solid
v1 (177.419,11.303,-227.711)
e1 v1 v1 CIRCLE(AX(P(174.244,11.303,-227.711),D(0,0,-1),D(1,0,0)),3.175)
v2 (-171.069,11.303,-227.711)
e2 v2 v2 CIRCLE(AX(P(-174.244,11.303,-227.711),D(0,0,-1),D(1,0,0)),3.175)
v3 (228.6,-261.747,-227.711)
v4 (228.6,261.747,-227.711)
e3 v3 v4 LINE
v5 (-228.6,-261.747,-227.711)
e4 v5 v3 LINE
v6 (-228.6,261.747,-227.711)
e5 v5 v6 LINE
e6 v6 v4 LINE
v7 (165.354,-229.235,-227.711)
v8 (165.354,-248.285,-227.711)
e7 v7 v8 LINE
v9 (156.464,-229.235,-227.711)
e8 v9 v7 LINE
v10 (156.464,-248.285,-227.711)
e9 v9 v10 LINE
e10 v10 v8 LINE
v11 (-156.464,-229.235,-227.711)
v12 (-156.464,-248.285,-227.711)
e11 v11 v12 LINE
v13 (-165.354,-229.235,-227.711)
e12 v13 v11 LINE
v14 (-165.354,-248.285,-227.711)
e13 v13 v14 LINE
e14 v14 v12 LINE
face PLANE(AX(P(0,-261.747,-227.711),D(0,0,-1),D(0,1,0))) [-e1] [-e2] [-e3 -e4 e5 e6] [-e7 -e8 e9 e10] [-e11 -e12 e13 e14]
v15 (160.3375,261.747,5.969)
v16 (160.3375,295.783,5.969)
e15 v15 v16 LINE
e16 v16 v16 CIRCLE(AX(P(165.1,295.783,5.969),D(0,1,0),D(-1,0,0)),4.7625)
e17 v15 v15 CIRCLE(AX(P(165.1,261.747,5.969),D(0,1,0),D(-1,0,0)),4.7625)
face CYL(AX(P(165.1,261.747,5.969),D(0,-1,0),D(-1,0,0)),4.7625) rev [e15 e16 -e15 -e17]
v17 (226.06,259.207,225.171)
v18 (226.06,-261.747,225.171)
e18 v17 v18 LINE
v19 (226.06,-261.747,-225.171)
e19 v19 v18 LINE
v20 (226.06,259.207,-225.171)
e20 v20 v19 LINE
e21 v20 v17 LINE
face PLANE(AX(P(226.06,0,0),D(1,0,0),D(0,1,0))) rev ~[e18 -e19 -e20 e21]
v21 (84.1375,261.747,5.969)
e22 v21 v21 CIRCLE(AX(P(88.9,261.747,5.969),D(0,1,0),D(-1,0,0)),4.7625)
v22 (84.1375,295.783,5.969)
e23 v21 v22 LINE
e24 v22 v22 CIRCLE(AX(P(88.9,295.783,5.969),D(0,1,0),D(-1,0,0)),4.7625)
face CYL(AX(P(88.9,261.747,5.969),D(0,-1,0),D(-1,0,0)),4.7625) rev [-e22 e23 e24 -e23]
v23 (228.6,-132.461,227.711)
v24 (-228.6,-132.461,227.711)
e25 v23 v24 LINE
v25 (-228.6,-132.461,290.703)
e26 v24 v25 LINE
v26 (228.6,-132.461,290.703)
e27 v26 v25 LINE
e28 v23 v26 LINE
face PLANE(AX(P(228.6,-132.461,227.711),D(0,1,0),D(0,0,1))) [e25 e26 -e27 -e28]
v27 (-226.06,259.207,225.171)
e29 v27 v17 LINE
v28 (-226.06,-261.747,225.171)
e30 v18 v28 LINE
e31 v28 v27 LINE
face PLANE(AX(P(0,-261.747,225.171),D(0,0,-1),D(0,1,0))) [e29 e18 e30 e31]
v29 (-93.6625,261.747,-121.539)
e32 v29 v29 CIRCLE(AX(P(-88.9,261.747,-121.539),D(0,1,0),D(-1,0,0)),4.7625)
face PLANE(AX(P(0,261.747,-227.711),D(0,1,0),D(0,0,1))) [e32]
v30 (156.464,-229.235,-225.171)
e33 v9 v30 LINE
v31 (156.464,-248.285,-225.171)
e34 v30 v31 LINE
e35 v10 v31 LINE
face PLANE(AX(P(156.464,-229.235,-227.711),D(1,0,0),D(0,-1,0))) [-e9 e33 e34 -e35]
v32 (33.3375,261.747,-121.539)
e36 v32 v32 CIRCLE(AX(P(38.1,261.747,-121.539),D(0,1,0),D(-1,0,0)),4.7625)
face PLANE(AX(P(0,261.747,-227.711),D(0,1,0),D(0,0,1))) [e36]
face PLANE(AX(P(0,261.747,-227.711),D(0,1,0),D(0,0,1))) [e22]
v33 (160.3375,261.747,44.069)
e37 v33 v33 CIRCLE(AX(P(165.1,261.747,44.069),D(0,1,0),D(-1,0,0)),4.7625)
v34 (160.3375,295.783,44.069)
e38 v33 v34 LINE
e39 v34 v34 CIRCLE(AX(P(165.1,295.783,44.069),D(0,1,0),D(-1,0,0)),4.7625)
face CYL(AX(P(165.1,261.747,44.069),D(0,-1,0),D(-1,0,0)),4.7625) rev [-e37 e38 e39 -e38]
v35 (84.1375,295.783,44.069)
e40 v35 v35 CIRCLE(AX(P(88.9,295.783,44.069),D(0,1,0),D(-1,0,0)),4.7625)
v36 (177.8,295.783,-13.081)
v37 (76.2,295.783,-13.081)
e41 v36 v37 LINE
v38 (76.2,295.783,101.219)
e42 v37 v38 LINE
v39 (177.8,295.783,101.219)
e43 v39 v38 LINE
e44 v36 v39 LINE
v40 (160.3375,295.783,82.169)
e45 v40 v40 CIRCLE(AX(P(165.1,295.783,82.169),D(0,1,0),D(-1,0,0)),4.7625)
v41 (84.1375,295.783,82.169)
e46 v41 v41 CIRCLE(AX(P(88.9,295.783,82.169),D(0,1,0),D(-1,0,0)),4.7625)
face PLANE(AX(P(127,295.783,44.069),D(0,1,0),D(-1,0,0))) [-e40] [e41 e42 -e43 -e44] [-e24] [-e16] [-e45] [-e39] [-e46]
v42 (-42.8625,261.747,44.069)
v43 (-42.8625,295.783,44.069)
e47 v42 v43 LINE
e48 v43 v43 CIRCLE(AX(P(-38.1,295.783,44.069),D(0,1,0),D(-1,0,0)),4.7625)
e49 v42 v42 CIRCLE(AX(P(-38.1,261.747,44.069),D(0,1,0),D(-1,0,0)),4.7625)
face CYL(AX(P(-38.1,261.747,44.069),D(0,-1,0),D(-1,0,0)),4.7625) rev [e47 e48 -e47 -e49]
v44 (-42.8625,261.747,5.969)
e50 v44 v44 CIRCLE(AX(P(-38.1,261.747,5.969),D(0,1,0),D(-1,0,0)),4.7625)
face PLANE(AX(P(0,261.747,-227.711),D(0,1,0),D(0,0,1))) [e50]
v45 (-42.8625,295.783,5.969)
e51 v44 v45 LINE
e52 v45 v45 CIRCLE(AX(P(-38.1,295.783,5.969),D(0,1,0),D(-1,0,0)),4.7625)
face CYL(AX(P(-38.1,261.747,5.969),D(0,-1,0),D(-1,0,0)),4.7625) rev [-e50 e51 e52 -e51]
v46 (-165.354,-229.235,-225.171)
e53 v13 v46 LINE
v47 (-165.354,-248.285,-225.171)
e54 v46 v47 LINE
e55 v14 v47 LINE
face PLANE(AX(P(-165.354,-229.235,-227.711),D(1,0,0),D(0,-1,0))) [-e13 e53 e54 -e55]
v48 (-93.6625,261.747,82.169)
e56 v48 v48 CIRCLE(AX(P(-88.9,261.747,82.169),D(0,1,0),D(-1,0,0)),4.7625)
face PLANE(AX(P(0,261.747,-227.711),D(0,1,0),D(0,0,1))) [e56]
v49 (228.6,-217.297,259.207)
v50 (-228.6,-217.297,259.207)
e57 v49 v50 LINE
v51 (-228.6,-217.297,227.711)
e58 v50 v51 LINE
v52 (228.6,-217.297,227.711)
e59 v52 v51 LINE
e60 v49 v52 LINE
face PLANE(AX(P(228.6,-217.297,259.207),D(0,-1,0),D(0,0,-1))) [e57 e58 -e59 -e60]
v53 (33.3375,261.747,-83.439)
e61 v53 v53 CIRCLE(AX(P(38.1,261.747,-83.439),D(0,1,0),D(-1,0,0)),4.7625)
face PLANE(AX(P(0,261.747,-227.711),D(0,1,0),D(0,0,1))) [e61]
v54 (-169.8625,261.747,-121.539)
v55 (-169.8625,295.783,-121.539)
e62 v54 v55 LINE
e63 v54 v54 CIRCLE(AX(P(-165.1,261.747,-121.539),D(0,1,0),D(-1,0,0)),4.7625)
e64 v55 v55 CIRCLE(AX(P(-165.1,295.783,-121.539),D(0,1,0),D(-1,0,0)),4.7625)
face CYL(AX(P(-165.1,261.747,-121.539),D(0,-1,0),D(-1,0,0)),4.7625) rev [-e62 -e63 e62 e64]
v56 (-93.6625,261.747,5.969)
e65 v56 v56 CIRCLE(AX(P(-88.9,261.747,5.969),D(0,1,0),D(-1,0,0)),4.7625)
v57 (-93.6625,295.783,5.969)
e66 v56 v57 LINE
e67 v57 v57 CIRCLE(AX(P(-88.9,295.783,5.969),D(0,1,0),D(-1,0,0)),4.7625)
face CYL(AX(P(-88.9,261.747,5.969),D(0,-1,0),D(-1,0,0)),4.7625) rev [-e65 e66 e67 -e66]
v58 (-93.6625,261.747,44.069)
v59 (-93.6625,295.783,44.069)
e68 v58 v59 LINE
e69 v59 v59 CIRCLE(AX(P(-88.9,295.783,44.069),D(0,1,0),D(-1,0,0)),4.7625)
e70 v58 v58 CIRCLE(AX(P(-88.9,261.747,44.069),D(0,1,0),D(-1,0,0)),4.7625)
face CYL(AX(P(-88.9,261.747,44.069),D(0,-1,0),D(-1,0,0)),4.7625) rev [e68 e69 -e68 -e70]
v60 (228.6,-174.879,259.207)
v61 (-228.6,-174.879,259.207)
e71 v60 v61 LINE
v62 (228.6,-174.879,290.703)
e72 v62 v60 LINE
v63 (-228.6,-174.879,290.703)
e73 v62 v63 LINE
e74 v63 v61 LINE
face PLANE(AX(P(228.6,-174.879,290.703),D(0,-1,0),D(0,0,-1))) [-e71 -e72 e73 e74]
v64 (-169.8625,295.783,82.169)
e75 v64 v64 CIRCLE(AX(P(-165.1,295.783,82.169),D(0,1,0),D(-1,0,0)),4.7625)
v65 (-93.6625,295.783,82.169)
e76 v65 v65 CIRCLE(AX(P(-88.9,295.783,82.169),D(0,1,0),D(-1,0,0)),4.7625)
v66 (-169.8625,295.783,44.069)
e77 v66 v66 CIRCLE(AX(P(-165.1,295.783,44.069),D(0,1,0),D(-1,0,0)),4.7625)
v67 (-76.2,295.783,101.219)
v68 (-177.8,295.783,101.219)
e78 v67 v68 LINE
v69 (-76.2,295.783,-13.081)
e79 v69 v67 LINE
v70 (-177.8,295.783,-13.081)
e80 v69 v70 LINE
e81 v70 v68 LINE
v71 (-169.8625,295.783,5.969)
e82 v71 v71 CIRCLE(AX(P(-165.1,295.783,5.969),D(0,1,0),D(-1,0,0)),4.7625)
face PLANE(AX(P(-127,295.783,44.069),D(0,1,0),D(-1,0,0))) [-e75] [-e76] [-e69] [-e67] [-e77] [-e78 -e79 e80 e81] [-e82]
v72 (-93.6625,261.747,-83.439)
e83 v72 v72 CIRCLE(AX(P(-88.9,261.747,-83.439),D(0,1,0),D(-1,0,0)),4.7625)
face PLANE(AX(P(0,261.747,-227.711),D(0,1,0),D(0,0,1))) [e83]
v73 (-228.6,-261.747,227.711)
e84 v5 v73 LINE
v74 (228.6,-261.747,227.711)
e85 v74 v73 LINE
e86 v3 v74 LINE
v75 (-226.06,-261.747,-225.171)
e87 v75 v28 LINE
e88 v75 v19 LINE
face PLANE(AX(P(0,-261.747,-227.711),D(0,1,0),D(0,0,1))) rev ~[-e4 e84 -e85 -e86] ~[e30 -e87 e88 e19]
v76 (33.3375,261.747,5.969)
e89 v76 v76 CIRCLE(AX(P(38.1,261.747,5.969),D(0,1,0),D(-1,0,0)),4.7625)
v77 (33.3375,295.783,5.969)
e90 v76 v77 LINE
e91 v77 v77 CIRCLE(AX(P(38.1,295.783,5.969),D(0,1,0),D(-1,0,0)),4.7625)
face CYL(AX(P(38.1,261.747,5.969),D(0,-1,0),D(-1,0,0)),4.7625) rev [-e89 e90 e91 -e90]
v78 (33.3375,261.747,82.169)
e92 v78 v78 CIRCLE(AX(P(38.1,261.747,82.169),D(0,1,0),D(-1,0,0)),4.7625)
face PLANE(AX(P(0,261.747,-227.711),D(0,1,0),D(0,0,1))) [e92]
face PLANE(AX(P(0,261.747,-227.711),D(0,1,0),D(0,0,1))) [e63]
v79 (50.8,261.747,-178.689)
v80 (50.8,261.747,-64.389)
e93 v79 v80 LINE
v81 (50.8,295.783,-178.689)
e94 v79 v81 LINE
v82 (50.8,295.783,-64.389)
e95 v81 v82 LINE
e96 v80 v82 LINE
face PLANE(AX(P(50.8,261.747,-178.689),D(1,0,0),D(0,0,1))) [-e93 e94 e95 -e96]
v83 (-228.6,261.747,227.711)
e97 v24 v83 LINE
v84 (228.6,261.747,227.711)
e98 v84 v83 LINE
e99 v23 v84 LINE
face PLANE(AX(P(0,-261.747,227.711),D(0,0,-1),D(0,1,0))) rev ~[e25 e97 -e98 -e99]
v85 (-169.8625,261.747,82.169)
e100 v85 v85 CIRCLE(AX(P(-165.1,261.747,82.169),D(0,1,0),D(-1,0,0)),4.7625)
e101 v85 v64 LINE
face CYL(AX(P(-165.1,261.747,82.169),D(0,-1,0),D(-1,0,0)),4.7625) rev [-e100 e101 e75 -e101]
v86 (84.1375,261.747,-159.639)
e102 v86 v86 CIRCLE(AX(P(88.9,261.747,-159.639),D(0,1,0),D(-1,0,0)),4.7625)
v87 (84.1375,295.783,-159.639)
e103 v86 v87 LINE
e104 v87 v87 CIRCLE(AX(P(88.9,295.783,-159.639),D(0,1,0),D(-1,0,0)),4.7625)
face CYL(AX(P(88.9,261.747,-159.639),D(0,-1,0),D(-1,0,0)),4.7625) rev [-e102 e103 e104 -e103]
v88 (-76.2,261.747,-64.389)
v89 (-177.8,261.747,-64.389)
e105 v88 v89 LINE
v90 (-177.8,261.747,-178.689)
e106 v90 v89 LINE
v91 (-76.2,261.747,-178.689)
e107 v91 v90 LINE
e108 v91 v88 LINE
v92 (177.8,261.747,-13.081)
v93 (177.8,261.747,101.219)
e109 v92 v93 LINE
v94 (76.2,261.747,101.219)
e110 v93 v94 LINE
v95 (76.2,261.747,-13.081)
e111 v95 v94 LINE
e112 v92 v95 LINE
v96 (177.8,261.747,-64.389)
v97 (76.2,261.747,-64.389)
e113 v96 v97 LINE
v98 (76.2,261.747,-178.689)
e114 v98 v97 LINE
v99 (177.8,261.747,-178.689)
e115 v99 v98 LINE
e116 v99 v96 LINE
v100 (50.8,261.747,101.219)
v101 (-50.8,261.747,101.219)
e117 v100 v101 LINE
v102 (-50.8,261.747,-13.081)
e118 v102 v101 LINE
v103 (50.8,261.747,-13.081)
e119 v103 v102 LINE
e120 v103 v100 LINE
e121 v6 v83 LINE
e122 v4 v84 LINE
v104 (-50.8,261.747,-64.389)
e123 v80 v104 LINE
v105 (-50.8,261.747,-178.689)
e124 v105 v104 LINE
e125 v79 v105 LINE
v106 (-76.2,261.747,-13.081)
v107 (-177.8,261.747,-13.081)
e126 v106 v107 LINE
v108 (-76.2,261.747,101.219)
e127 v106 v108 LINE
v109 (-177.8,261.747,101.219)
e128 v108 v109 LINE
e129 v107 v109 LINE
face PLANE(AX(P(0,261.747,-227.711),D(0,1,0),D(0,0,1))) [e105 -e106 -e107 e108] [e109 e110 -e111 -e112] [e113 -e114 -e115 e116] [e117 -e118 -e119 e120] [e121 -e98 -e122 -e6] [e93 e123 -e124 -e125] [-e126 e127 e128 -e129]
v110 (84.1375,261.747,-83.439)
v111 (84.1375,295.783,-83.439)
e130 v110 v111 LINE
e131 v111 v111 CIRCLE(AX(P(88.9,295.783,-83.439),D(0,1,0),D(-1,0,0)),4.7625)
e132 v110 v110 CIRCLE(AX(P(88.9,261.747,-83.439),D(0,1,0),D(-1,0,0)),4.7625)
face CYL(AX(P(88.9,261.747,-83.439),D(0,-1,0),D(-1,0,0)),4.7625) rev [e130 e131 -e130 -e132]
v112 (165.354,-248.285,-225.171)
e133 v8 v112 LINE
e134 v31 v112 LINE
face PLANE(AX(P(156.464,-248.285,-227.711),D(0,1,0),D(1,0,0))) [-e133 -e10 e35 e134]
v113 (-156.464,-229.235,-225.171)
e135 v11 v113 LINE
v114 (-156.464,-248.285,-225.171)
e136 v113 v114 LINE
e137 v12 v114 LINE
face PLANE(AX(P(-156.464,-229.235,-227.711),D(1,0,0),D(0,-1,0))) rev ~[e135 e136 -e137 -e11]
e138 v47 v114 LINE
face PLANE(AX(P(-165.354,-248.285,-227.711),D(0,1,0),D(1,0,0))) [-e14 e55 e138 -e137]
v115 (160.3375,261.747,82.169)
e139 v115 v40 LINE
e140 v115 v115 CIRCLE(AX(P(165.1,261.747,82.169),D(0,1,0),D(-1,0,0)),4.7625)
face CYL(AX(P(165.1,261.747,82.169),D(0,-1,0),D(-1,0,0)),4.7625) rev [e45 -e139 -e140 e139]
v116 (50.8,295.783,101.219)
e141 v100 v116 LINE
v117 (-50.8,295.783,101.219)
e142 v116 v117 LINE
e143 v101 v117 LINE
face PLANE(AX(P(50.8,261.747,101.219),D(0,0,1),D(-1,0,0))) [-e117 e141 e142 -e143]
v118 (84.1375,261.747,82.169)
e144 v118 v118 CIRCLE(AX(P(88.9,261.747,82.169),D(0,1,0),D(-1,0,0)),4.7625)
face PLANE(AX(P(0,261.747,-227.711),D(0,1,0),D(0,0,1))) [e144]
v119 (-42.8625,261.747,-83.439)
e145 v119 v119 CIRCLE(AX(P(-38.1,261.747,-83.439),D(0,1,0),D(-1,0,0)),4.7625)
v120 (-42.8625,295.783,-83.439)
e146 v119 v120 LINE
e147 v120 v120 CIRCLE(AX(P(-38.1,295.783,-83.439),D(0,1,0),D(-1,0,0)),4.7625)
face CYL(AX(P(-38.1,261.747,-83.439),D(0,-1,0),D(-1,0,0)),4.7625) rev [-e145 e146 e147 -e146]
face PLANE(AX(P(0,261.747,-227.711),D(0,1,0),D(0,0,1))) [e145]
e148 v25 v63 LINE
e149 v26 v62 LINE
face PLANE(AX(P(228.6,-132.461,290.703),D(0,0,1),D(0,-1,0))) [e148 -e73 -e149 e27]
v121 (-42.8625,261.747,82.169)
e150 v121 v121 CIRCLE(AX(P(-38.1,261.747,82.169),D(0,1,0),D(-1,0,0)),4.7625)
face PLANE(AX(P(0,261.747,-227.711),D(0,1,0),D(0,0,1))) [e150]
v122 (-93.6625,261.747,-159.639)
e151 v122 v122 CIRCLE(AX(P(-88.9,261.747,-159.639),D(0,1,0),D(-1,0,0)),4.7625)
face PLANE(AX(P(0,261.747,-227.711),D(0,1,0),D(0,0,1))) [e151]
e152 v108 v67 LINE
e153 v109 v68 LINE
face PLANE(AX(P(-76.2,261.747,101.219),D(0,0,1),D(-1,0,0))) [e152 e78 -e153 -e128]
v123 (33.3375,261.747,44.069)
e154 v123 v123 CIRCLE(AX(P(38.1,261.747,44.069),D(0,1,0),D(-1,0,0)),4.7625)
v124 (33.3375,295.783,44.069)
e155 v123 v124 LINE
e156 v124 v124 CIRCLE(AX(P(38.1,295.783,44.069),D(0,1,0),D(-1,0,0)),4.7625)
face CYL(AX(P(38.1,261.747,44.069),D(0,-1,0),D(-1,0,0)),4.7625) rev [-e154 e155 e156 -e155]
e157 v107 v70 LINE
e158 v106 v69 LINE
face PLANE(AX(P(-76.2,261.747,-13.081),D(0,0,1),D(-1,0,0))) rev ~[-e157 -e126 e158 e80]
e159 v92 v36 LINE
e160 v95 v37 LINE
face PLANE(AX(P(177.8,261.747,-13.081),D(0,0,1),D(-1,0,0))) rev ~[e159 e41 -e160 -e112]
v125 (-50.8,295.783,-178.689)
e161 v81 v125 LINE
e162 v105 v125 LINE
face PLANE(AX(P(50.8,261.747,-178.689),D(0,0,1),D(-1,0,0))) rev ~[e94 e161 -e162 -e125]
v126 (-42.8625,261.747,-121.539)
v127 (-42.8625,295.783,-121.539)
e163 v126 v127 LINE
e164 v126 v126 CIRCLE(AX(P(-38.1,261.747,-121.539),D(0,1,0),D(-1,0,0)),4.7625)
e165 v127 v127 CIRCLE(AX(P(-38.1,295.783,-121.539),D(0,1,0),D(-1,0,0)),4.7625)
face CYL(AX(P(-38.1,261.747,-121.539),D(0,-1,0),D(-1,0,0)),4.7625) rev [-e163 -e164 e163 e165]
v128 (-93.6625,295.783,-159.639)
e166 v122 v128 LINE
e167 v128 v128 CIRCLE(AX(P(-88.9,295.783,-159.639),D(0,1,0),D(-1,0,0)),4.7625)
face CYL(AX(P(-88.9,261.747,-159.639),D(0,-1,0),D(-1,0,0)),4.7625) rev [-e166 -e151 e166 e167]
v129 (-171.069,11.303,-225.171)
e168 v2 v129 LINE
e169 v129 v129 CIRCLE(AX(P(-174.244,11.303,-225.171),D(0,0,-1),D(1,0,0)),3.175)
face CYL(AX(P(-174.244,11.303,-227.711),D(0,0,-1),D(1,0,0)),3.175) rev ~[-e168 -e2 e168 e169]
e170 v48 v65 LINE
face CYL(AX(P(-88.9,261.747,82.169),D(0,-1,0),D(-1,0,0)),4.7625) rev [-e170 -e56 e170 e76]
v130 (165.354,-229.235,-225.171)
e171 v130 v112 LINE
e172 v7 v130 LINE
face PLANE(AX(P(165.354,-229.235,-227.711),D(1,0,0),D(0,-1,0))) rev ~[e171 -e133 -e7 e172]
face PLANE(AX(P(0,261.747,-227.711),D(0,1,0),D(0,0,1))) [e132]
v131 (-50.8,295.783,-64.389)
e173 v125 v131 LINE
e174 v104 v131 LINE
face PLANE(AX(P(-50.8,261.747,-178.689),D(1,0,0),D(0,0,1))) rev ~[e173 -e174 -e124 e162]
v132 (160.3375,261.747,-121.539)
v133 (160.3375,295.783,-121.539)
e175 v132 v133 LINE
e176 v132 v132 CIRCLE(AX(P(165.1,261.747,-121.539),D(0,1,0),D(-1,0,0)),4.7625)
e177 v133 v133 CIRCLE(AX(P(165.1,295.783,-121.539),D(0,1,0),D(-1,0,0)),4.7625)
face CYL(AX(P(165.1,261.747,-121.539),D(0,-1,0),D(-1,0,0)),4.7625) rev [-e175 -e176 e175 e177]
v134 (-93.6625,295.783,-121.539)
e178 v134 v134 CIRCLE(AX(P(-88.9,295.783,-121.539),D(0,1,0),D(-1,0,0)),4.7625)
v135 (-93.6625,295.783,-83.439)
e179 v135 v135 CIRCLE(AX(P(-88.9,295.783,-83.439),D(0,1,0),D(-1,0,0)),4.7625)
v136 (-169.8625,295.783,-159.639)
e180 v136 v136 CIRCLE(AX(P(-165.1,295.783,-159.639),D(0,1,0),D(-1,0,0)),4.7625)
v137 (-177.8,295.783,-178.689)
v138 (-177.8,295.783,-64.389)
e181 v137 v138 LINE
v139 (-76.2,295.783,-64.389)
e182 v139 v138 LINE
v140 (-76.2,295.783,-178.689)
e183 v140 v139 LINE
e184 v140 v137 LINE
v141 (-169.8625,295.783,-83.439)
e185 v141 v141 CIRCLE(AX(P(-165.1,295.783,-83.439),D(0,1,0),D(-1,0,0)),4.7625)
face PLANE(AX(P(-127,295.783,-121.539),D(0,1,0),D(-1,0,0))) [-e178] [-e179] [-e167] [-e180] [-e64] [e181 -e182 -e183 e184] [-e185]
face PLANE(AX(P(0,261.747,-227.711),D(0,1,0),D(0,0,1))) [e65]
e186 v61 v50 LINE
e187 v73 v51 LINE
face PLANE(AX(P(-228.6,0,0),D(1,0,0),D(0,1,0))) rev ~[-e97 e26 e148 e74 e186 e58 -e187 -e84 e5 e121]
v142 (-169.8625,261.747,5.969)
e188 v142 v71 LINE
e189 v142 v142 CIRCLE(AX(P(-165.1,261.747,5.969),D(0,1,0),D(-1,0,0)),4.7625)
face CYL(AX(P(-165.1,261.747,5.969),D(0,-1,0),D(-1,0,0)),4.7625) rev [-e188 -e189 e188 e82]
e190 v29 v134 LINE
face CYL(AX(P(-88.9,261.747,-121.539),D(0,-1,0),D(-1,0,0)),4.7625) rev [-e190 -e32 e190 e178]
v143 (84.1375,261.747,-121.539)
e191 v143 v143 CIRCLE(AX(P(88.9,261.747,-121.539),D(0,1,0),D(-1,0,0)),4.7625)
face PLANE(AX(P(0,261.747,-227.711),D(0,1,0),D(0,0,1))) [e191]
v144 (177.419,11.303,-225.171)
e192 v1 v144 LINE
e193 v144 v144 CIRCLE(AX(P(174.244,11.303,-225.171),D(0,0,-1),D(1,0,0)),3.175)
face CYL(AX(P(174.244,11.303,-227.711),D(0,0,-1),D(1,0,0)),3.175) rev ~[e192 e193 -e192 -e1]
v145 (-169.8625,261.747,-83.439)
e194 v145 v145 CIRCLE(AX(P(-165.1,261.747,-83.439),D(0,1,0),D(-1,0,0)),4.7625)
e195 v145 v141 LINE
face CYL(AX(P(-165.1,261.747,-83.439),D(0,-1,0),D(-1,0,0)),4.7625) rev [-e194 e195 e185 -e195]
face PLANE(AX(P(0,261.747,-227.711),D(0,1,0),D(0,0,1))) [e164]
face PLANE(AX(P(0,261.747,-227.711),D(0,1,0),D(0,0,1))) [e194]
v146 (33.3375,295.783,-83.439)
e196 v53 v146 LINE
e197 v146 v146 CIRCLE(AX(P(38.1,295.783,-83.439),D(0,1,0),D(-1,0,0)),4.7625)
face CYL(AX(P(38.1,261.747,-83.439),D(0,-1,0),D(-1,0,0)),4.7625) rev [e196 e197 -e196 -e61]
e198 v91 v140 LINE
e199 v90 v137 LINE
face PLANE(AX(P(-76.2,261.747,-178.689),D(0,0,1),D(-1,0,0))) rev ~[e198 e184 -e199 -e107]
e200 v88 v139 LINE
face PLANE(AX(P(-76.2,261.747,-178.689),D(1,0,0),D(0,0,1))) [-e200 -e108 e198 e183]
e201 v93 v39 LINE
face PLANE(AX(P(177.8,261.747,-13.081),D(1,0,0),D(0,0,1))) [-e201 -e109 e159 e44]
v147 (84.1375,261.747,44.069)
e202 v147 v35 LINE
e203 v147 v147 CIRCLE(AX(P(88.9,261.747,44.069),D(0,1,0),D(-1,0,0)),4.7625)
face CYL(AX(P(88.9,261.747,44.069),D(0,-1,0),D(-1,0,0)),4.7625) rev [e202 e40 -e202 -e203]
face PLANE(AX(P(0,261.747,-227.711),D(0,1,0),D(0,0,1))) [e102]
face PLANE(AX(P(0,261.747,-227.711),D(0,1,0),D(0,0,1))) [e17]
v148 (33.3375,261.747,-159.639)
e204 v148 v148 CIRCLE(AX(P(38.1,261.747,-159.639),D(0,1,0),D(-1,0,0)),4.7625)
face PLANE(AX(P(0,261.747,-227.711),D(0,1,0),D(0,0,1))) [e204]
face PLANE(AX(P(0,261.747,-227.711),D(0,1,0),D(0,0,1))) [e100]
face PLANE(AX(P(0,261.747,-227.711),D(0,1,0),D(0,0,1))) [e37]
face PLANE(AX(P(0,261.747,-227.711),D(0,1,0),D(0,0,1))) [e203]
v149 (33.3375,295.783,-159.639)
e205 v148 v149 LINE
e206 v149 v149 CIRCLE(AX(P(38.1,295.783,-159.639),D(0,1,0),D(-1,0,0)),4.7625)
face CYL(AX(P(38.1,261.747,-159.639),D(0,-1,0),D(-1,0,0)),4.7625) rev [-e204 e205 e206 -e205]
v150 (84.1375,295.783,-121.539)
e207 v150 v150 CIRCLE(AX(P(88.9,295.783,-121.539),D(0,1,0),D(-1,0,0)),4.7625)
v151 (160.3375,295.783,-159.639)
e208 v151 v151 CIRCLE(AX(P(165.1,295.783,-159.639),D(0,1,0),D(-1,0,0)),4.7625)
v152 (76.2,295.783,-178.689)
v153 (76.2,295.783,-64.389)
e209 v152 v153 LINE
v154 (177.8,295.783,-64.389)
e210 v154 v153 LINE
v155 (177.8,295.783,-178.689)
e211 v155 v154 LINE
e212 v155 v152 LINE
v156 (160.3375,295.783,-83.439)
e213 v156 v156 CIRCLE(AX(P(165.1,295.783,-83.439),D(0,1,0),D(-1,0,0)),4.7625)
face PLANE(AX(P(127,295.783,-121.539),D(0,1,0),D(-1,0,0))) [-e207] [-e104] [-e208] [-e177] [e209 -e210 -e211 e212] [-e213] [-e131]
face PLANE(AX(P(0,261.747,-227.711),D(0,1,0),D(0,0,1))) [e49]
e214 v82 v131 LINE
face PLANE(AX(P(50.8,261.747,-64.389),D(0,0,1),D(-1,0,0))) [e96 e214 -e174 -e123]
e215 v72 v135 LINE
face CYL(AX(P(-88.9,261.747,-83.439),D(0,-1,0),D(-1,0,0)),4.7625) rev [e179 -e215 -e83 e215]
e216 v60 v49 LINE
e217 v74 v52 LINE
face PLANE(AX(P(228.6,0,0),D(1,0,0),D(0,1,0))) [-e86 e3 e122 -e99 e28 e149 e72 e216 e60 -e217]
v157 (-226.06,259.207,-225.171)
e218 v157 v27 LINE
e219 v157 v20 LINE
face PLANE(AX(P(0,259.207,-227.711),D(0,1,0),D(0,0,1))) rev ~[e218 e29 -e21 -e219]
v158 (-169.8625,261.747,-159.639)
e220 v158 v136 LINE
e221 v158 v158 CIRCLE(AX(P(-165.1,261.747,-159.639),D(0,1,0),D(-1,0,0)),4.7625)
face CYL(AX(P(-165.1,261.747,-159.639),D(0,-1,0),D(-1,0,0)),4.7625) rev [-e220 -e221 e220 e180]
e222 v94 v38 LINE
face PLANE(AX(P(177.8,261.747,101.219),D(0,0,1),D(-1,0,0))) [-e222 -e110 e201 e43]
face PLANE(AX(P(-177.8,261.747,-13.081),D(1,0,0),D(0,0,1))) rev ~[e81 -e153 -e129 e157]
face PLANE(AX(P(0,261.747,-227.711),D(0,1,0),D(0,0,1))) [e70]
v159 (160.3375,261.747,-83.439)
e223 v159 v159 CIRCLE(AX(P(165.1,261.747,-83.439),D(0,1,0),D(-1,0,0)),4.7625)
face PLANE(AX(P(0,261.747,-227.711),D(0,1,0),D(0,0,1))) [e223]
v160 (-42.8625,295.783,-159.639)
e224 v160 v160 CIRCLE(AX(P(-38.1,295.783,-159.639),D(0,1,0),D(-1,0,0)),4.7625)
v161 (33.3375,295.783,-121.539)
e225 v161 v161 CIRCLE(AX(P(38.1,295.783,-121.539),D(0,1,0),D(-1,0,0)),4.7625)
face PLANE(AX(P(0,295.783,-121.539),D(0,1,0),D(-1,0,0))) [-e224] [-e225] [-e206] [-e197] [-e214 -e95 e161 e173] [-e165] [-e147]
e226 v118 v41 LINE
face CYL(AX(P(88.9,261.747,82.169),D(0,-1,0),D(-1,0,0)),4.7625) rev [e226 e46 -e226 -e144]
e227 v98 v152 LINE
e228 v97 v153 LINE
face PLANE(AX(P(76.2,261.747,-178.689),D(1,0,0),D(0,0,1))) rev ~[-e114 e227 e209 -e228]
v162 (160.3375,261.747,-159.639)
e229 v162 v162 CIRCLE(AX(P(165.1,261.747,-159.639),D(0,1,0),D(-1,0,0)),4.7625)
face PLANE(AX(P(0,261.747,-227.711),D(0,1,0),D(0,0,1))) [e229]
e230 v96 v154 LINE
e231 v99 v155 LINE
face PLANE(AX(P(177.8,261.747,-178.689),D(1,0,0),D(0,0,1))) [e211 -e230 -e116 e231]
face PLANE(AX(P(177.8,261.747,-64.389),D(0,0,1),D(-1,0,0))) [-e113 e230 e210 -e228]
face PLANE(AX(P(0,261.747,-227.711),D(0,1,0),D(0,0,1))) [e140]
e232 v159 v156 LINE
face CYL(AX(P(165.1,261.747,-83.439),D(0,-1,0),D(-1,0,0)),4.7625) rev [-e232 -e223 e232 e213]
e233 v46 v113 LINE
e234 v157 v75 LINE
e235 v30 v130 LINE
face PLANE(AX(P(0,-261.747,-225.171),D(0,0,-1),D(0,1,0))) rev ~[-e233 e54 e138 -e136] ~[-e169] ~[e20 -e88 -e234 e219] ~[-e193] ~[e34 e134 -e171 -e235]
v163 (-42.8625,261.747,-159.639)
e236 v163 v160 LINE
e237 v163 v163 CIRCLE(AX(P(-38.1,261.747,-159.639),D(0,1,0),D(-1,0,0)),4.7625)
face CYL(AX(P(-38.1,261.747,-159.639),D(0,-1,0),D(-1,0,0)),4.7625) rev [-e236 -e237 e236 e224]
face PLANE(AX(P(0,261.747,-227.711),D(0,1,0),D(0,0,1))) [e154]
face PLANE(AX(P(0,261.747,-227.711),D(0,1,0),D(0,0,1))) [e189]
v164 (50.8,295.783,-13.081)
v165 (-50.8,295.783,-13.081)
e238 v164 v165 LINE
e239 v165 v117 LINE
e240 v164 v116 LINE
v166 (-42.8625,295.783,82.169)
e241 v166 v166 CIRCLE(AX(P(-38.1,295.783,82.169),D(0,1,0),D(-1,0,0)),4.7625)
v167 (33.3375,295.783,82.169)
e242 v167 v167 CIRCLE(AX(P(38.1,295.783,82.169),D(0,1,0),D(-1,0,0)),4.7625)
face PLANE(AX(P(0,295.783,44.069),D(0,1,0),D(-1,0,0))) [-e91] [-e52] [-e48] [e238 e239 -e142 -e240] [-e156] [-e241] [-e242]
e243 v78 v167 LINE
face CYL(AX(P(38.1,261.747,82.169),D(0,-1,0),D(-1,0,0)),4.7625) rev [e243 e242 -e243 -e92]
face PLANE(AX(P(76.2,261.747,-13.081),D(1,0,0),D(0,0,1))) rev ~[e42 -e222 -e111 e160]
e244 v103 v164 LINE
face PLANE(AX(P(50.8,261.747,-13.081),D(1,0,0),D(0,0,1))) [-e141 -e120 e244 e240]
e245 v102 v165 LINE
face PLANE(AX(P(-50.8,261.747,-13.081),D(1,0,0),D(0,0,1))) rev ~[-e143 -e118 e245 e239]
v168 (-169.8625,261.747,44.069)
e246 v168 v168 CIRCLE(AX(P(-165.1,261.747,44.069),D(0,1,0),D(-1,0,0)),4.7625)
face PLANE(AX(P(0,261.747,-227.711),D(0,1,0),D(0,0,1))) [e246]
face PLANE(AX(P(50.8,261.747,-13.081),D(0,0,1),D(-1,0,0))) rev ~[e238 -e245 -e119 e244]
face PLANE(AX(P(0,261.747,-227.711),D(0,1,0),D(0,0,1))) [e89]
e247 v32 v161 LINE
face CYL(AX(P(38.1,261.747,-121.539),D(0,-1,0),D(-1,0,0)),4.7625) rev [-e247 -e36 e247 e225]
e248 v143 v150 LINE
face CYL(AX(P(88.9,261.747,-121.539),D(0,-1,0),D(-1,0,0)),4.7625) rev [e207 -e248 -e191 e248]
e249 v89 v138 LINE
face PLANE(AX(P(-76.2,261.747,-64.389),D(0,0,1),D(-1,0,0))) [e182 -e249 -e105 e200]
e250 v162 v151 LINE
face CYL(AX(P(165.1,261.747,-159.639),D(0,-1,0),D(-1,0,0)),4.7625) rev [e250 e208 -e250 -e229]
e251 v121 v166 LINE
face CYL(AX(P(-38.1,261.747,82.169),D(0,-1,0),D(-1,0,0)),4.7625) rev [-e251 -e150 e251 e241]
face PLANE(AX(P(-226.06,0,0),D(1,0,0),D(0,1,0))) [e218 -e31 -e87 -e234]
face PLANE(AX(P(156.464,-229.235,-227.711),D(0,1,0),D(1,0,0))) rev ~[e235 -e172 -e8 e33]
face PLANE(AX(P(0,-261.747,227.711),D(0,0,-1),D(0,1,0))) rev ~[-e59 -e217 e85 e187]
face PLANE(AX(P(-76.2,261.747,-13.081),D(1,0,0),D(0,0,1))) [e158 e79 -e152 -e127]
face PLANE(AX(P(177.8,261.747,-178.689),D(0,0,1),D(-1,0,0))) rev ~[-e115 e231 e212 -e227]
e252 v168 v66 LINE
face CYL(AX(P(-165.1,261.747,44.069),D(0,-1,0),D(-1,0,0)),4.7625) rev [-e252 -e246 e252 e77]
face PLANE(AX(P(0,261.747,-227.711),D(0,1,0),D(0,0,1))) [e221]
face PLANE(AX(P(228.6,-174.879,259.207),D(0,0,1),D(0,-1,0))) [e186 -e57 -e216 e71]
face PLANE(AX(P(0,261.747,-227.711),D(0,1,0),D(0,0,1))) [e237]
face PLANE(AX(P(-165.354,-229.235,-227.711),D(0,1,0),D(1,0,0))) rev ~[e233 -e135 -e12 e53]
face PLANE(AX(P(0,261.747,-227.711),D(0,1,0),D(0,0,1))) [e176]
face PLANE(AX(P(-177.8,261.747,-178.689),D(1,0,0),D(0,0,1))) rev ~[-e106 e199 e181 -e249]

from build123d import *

# Parameters (mm, degrees)
F0_W     = 523.494
F0_H     = 455.422
F1_DEPTH = 228.6
F2_T     = -2.54
F3_W     = 101.6
F3_H     = 114.3
F3_R     = 4.7625
F4_DEPTH = 34.036
F5_W     = 8.89
F5_H     = 19.05
F5_R     = 3.175
F6_DEPTH = 2.54
F8_DEPTH = 457.2


with BuildPart() as f1:
    # F0 (on Right) → F1 (new body, symmetric)
    with BuildSketch(Plane.YZ):
        Rectangle(F0_W, F0_H)
    extrude(amount=F1_DEPTH, both=True)

    # F2
    f2_openings = [f1.faces().sort_by_distance(p)[0] for p in [
        (0, -261.747, 0),
    ]]
    offset(amount=F2_T, openings=f2_openings)

    # F3 (on face) → F4 (join)
    with BuildSketch(Plane(origin=(0, 261.747, 0), x_dir=(-1, 0, 0), z_dir=(0, 1, 0))):
        with Locations((127, -121.539)):
            Rectangle(F3_W, F3_H)
        with Locations((88.9, -159.639)):
            Circle(F3_R, mode=Mode.SUBTRACT)
        with Locations((165.1, -159.639)):
            Circle(F3_R, mode=Mode.SUBTRACT)
        with Locations((88.9, -121.539)):
            Circle(F3_R, mode=Mode.SUBTRACT)
        with Locations((165.1, -121.539)):
            Circle(F3_R, mode=Mode.SUBTRACT)
        with Locations((88.9, -83.439)):
            Circle(F3_R, mode=Mode.SUBTRACT)
        with Locations((165.1, -83.439)):
            Circle(F3_R, mode=Mode.SUBTRACT)
        with Locations((127, 44.069)):
            Rectangle(F3_W, F3_H)
        with Locations((88.9, 5.969)):
            Circle(F3_R, mode=Mode.SUBTRACT)
        with Locations((165.1, 5.969)):
            Circle(F3_R, mode=Mode.SUBTRACT)
        with Locations((88.9, 44.069)):
            Circle(F3_R, mode=Mode.SUBTRACT)
        with Locations((165.1, 44.069)):
            Circle(F3_R, mode=Mode.SUBTRACT)
        with Locations((88.9, 82.169)):
            Circle(F3_R, mode=Mode.SUBTRACT)
        with Locations((165.1, 82.169)):
            Circle(F3_R, mode=Mode.SUBTRACT)
        with Locations((0, -121.539)):
            Rectangle(F3_W, F3_H)
        with Locations((-38.1, -159.639)):
            Circle(F3_R, mode=Mode.SUBTRACT)
        with Locations((-38.1, -121.539)):
            Circle(F3_R, mode=Mode.SUBTRACT)
        with Locations((-38.1, -83.439)):
            Circle(F3_R, mode=Mode.SUBTRACT)
        with Locations((38.1, -159.639)):
            Circle(F3_R, mode=Mode.SUBTRACT)
        with Locations((38.1, -121.539)):
            Circle(F3_R, mode=Mode.SUBTRACT)
        with Locations((38.1, -83.439)):
            Circle(F3_R, mode=Mode.SUBTRACT)
        with Locations((0, 44.069)):
            Rectangle(F3_W, F3_H)
        with Locations((-38.1, 5.969)):
            Circle(F3_R, mode=Mode.SUBTRACT)
        with Locations((-38.1, 44.069)):
            Circle(F3_R, mode=Mode.SUBTRACT)
        with Locations((-38.1, 82.169)):
            Circle(F3_R, mode=Mode.SUBTRACT)
        with Locations((38.1, 5.969)):
            Circle(F3_R, mode=Mode.SUBTRACT)
        with Locations((38.1, 44.069)):
            Circle(F3_R, mode=Mode.SUBTRACT)
        with Locations((38.1, 82.169)):
            Circle(F3_R, mode=Mode.SUBTRACT)
        with Locations((-127, -121.539)):
            Rectangle(F3_W, F3_H)
        with Locations((-165.1, -159.639)):
            Circle(F3_R, mode=Mode.SUBTRACT)
        with Locations((-165.1, -121.539)):
            Circle(F3_R, mode=Mode.SUBTRACT)
        with Locations((-88.9, -159.639)):
            Circle(F3_R, mode=Mode.SUBTRACT)
        with Locations((-88.9, -121.539)):
            Circle(F3_R, mode=Mode.SUBTRACT)
        with Locations((-165.1, -83.439)):
            Circle(F3_R, mode=Mode.SUBTRACT)
        with Locations((-88.9, -83.439)):
            Circle(F3_R, mode=Mode.SUBTRACT)
        with Locations((-127, 44.069)):
            Rectangle(F3_W, F3_H)
        with Locations((-165.1, 5.969)):
            Circle(F3_R, mode=Mode.SUBTRACT)
        with Locations((-88.9, 5.969)):
            Circle(F3_R, mode=Mode.SUBTRACT)
        with Locations((-165.1, 44.069)):
            Circle(F3_R, mode=Mode.SUBTRACT)
        with Locations((-165.1, 82.169)):
            Circle(F3_R, mode=Mode.SUBTRACT)
        with Locations((-88.9, 44.069)):
            Circle(F3_R, mode=Mode.SUBTRACT)
        with Locations((-88.9, 82.169)):
            Circle(F3_R, mode=Mode.SUBTRACT)
    extrude(amount=F4_DEPTH)

    # F5 (on face) → F6 (cut, through all)
    with BuildSketch(Plane(origin=(0, 0, -227.711), x_dir=(1, 0, 0), z_dir=(0, 0, -1))):
        with Locations((160.909, 238.76)):
            Rectangle(F5_W, F5_H)
        with Locations((-160.909, 238.76)):
            Rectangle(F5_W, F5_H)
        with Locations((174.244, -11.303)):
            Circle(F5_R)
        with Locations((-174.244, -11.303)):
            Circle(F5_R)
    extrude(amount=-F6_DEPTH, mode=Mode.SUBTRACT)

    # F7 (on face) → F8 (join, through all)
    with BuildSketch(Plane.YZ.offset(228.6)):
        Polygon((-217.297, 259.207), (-217.297, 227.711), (-132.461, 227.711), (-132.461, 290.703), (-174.879, 290.703), (-174.879, 259.207), align=None)
    extrude(amount=-F8_DEPTH)


solid = f1.part
